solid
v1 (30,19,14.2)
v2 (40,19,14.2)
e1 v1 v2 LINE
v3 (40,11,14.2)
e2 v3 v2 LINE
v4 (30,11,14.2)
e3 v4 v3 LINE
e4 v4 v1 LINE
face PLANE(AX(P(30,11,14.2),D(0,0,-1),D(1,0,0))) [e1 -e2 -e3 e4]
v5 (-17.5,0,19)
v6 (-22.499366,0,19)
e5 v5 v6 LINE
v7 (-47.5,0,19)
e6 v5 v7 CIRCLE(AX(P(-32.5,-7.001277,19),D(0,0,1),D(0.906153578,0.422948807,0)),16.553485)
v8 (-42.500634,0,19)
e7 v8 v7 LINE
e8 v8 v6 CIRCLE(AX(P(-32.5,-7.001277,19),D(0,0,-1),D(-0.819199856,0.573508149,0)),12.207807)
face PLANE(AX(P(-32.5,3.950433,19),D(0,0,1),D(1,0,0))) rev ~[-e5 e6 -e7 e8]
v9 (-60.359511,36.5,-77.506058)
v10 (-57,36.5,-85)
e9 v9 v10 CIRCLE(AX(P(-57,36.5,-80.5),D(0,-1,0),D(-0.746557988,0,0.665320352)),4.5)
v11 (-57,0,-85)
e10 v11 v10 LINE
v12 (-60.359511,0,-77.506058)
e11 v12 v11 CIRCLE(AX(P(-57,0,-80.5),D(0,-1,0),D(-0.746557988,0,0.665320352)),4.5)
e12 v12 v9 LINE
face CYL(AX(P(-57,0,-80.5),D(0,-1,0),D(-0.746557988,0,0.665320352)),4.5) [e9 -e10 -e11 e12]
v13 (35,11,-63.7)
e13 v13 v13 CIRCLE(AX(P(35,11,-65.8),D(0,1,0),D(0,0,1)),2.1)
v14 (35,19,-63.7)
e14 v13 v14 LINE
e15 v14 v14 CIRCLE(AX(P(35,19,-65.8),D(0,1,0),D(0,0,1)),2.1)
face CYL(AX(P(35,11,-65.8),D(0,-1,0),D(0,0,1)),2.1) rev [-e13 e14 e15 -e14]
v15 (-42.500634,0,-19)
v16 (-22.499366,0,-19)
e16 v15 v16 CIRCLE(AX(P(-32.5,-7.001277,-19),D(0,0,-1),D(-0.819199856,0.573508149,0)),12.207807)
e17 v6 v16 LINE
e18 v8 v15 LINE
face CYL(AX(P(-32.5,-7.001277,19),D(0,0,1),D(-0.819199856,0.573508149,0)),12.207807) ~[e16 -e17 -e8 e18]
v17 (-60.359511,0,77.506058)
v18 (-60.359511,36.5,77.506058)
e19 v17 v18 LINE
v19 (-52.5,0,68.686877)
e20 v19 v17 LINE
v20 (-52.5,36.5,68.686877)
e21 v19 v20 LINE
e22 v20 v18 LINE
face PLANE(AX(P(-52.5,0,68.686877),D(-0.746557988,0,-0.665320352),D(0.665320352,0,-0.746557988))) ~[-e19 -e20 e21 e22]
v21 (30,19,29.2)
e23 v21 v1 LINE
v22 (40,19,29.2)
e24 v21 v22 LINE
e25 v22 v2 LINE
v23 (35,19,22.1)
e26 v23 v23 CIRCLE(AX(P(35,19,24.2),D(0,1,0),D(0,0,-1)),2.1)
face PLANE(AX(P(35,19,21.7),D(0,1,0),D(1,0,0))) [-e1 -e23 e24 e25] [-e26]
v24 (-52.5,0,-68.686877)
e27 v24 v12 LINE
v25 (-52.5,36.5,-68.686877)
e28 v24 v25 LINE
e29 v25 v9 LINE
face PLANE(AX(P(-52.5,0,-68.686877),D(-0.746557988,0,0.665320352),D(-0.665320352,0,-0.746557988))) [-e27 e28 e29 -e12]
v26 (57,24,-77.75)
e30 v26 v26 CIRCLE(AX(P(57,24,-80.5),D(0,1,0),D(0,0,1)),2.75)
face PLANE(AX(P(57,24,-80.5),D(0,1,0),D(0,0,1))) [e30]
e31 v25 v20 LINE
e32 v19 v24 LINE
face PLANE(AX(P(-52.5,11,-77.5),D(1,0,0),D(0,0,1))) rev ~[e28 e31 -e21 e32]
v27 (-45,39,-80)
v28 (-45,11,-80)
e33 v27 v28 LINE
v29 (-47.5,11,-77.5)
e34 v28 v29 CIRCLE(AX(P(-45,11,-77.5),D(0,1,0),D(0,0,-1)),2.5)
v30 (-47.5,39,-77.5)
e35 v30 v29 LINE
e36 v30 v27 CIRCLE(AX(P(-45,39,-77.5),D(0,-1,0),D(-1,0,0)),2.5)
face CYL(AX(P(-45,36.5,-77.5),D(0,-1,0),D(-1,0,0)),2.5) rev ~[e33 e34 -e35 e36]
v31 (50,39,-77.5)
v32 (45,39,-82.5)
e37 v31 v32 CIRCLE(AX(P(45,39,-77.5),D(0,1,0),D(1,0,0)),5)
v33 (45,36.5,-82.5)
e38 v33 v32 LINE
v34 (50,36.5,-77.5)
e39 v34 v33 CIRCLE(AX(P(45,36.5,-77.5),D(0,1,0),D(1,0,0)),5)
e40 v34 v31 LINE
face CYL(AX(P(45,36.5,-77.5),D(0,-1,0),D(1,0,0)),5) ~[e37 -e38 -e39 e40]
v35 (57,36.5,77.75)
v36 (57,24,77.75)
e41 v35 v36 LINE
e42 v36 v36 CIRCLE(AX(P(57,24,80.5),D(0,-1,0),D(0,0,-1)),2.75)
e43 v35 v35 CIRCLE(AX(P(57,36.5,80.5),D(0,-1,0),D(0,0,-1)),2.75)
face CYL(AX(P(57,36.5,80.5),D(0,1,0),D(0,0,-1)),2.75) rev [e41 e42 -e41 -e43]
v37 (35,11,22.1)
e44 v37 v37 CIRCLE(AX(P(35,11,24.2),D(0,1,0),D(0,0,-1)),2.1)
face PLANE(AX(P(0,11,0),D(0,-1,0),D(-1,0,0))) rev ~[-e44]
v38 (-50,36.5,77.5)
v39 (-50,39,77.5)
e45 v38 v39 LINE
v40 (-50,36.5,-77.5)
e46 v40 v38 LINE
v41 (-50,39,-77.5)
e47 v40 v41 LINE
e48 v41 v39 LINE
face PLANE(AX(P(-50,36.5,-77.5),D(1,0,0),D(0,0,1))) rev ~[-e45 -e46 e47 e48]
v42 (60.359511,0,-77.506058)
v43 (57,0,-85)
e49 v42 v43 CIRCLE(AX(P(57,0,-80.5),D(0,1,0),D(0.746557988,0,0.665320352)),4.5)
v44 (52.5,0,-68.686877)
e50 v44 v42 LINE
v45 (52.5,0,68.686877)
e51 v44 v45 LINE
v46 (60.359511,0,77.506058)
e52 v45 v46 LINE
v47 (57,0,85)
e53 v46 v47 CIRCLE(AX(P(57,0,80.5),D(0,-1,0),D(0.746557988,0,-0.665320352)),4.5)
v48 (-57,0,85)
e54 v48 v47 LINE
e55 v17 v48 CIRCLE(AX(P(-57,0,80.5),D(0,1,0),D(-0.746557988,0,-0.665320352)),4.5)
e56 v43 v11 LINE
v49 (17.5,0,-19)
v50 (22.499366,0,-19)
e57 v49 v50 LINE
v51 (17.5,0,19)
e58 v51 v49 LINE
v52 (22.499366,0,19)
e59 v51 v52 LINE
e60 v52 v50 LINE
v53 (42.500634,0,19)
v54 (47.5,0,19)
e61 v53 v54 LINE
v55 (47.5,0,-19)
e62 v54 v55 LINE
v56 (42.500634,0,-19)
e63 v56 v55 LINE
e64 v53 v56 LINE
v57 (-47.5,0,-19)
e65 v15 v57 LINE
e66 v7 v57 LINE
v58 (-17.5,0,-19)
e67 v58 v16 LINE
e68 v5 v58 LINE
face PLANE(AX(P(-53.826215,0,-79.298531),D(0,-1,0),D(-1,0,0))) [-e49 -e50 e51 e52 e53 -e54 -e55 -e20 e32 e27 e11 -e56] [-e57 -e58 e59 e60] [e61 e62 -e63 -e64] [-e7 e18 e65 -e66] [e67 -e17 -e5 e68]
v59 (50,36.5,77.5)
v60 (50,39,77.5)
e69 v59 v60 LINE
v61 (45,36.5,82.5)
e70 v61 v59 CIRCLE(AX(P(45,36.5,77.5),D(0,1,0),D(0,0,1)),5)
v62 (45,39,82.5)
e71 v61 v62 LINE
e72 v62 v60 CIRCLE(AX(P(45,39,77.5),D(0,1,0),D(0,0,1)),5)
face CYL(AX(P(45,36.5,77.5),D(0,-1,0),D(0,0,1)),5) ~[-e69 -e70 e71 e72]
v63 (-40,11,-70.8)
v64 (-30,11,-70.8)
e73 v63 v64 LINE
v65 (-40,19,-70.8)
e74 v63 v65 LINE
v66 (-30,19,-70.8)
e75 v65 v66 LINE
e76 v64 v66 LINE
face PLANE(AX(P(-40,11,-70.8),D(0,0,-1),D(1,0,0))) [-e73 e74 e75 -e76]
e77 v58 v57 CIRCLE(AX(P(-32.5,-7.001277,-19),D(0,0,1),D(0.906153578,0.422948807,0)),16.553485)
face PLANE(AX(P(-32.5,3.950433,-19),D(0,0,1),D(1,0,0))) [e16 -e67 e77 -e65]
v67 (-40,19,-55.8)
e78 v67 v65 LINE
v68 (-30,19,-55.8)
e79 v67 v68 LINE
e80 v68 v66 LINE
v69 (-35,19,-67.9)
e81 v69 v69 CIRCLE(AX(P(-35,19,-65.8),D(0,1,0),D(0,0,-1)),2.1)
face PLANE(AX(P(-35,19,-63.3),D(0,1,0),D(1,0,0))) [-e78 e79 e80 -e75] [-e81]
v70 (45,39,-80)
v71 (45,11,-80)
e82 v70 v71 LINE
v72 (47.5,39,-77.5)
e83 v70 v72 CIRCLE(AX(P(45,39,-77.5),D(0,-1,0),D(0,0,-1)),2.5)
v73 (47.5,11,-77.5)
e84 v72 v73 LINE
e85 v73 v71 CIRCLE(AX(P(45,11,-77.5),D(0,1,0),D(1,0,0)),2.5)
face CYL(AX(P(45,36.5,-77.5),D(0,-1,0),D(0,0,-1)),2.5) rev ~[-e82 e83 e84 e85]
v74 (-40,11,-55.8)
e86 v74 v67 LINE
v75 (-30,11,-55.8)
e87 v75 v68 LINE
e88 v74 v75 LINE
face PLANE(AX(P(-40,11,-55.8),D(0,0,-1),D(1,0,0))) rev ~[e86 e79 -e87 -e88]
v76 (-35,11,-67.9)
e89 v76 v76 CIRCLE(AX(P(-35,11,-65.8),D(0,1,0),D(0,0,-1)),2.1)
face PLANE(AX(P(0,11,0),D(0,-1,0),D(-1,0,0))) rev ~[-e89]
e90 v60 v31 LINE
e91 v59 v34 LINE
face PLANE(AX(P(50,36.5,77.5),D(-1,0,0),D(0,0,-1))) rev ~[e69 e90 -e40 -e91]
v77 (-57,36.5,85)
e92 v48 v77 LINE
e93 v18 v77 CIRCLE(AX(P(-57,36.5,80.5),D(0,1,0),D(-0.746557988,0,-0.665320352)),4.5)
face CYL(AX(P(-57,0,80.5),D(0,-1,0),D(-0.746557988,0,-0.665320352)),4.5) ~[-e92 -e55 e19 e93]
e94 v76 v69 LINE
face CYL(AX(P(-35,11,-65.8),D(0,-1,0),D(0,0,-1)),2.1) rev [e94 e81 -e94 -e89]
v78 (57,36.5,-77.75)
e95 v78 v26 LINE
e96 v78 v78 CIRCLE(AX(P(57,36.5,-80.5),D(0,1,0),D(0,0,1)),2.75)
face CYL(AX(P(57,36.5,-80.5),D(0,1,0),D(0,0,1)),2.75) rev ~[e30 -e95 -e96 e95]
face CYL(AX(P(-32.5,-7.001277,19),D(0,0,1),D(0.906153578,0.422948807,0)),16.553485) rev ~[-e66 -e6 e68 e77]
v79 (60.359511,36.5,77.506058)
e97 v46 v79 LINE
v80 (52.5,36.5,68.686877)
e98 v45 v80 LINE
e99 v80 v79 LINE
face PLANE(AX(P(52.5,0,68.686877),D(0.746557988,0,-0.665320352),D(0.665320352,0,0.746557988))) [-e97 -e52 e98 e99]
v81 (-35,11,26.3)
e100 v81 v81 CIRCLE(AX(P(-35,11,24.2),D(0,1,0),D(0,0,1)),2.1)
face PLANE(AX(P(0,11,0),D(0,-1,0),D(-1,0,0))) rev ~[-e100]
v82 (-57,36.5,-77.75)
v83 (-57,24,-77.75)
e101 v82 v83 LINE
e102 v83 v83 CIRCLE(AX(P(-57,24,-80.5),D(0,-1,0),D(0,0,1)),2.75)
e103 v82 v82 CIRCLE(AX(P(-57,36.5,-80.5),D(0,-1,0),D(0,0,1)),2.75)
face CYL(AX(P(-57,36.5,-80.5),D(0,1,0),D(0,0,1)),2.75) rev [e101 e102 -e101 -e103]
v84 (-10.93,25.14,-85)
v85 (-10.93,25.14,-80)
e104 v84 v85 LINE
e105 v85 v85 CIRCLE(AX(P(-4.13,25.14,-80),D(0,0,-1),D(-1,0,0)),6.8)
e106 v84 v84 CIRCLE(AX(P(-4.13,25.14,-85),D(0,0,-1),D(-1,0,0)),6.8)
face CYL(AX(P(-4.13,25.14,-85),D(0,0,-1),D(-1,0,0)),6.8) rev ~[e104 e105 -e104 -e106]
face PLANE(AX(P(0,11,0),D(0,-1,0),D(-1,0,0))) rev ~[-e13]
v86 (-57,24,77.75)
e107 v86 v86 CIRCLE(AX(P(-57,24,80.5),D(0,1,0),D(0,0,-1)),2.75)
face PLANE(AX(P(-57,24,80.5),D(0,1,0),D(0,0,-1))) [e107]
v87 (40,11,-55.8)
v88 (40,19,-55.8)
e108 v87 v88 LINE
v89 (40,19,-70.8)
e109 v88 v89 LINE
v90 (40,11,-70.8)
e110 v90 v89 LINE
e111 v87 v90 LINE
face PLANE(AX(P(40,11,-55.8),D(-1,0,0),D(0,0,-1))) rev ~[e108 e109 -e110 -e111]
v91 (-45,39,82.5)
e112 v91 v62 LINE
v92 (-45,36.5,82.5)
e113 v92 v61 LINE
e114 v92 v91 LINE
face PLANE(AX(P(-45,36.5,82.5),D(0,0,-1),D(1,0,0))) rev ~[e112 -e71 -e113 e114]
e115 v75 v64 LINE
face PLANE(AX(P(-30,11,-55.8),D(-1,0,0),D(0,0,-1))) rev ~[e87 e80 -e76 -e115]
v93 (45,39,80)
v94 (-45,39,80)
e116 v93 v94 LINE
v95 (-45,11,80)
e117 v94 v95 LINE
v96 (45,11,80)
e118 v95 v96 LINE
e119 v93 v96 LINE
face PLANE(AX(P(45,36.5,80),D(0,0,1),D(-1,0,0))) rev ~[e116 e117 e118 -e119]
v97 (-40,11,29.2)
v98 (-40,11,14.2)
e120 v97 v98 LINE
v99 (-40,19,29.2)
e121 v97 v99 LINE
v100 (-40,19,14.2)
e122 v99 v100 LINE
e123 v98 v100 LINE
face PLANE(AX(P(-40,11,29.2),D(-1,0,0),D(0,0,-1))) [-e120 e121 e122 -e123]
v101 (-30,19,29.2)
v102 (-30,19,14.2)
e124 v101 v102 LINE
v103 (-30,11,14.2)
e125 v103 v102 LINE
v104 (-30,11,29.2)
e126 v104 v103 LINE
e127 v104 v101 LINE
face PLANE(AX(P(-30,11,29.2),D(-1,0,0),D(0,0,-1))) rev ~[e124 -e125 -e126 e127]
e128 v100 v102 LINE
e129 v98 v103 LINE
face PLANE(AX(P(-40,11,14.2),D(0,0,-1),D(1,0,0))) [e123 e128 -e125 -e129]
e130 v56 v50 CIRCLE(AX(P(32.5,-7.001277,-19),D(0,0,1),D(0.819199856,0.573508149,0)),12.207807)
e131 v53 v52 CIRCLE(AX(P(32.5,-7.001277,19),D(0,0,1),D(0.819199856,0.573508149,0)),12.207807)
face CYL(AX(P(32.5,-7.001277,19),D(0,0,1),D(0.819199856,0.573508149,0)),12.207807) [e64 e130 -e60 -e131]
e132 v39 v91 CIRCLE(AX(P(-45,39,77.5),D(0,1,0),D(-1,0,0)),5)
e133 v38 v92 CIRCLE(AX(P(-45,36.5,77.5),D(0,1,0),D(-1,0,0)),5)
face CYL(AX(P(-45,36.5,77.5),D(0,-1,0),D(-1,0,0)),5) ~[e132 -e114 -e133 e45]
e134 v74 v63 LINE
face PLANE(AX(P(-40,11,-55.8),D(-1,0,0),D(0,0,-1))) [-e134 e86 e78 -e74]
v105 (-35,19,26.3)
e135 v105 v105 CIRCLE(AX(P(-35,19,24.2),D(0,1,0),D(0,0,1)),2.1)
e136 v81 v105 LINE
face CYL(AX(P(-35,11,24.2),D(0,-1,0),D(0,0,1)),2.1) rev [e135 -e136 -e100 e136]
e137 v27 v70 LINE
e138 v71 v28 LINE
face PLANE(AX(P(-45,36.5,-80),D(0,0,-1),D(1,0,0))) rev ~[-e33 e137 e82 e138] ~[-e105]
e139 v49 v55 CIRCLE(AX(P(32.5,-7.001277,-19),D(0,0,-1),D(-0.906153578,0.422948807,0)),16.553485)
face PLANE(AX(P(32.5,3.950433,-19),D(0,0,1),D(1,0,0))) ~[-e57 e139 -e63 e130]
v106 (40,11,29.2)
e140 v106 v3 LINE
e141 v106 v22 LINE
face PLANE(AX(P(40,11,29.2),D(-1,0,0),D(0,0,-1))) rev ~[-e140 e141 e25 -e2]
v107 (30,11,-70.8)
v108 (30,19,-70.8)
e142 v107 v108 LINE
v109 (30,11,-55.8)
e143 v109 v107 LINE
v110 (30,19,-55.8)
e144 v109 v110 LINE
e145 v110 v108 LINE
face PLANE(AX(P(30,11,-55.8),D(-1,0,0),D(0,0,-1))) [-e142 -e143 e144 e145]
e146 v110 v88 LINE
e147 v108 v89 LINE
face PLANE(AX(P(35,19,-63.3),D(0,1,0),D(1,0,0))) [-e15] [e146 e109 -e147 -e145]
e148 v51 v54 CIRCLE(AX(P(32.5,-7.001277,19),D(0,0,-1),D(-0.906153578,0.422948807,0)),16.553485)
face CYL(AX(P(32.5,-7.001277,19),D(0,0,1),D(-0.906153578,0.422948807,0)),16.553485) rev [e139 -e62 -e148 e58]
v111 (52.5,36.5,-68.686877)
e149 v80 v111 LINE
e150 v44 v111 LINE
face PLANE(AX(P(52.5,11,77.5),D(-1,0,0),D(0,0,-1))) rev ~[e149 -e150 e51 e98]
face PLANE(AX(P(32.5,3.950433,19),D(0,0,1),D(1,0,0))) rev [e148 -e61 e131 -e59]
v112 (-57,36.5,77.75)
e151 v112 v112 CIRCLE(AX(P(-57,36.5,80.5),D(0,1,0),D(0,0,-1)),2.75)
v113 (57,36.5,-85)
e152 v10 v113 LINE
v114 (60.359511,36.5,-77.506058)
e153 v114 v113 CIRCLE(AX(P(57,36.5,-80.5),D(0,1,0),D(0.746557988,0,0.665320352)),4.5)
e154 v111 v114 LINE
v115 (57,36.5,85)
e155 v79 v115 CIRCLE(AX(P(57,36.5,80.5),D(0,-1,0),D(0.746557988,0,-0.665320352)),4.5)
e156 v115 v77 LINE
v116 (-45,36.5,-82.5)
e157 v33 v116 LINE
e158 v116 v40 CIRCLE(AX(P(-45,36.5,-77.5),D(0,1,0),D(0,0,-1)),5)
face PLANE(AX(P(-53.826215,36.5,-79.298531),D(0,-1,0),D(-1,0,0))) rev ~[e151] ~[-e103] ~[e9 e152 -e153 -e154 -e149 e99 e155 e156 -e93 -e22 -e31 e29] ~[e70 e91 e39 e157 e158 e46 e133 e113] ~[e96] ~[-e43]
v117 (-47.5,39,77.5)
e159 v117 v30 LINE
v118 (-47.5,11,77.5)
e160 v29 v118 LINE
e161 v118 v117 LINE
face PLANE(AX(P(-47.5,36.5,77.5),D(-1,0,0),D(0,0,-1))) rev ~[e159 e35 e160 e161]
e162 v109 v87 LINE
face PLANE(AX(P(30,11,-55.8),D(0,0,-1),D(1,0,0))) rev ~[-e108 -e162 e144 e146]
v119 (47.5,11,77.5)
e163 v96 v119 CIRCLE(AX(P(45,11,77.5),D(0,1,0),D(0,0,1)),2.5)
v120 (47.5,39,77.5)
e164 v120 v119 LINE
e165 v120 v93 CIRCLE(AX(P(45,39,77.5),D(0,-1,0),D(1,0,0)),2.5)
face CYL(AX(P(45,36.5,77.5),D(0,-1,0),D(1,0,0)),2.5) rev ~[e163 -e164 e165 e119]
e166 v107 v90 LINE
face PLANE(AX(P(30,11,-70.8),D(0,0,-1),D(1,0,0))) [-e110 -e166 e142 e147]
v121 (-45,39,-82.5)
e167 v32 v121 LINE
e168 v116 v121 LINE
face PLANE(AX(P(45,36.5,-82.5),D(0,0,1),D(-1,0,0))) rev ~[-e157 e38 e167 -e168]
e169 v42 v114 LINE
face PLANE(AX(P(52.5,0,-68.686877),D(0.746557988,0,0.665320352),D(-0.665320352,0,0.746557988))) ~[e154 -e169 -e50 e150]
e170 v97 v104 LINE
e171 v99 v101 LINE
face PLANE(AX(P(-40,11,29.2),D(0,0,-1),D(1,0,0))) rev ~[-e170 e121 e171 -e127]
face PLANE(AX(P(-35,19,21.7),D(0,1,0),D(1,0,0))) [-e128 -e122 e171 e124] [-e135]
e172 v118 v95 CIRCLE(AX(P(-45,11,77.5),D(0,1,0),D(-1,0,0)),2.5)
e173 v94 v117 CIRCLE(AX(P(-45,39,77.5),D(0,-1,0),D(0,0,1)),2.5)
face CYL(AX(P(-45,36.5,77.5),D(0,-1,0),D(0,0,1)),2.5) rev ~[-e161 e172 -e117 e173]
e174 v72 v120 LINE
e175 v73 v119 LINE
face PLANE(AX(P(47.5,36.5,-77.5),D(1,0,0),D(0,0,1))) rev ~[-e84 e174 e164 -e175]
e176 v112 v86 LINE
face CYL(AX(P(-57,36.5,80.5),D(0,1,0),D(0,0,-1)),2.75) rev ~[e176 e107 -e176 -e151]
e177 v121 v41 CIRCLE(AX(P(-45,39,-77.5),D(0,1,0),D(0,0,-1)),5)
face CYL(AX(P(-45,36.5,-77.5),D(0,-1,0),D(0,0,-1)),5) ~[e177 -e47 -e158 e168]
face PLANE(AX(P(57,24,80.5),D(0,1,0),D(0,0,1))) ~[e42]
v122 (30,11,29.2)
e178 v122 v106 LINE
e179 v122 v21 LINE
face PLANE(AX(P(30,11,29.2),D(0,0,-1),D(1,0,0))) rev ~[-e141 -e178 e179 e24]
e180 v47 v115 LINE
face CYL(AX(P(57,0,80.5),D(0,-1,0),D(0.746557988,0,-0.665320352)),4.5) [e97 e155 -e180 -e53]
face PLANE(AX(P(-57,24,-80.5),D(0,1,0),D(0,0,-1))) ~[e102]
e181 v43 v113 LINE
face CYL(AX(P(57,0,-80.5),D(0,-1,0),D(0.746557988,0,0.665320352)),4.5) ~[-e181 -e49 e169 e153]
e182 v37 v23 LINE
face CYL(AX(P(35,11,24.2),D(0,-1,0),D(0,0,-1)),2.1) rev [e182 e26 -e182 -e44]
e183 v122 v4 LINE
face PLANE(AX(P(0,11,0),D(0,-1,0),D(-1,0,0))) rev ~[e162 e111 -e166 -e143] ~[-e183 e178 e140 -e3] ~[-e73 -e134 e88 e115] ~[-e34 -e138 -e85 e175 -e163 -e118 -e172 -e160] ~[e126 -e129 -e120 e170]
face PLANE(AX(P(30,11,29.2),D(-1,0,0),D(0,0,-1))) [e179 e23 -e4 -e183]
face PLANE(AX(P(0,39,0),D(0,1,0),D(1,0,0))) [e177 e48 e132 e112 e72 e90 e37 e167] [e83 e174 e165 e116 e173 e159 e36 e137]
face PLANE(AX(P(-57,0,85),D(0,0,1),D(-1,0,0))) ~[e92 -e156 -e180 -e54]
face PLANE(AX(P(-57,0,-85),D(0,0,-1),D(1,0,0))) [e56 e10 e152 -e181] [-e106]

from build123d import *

# Parameters (mm, degrees)
SALIENTE_EXTRUIR2_DEPTH   = 11
SALIENTE_EXTRUIR3_DEPTH   = 25.5
SALIENTE_EXTRUIR4_DEPTH   = 2.5
SALIENTE_EXTRUIR5_DEPTH   = 36.5
SIMETR_A2_COPY_1_DEPTH    = 36.5
CROQUIS6_W                = 10
CROQUIS6_H                = 15
CROQUIS6_R                = 2.1
SALIENTE_EXTRUIR6_DEPTH   = 8
CROQUIS8_R                = 6.8
CORTAR_EXTRUIR2_DEPTH     = 8
CROQUIS9_R                = 6.5
CORTAR_EXTRUIR3_DEPTH     = 8
CORTAR_EXTRUIR4_DEPTH     = 38
CROQUIS13_R               = 2.75
CORTAR_EXTRUIR5_DEPTH     = 12.5
SIMETR_A7_COPY_1_SKETCH_R = 2.75
SIMETR_A7_COPY_1_DEPTH    = 12.5
CORTAR_EXTRUIR6_START     = -2.5
CROQUIS15_R               = 12.5
CROQUIS15_R_2             = 6.5
CORTAR_EXTRUIR6_DEPTH     = 2.5
CROQUIS16_R               = 13.413268366
SALIENTE_EXTRUIR7_DEPTH   = 5


with BuildPart() as part:
    # Croquis1 → Saliente-Extruir2 (new body)
    # profile 1 of 3: a face of its own
    with BuildSketch(Plane(origin=(0, 0, 0), x_dir=(1, 0, 0), z_dir=(0, 1, 0))):
        with BuildLine():
            Line((-45, 85), (45, 85))
            ThreePointArc((45, 85), (50.303300859, 82.803300859), (52.5, 77.5))
            Line((52.5, 77.5), (52.5, -77.5))
            ThreePointArc((52.5, -77.5), (50.303300859, -82.803300859), (45, -85))
            Line((45, -85), (-45, -85))
            ThreePointArc((-45, -85), (-50.303300859, -82.803300859), (-52.5, -77.5))
            Line((-52.5, -77.5), (-52.5, 77.5))
            ThreePointArc((-52.5, 77.5), (-50.303300859, 82.803300859), (-45, 85))
        make_face()
        with BuildLine():
            ThreePointArc((-45, 82.5), (-48.535533906, 81.035533906), (-50, 77.5))
            Line((-50, 77.5), (-50, -77.5))
            ThreePointArc((-50, -77.5), (-48.535533906, -81.035533906), (-45, -82.5))
            Line((-45, -82.5), (45, -82.5))
            ThreePointArc((45, -82.5), (48.535533906, -81.035533906), (50, -77.5))
            Line((50, -77.5), (50, 77.5))
            ThreePointArc((50, 77.5), (48.535533906, 81.035533906), (45, 82.5))
            Line((45, 82.5), (-45, 82.5))
        make_face(mode=Mode.SUBTRACT)
    # profile 2 of 3: a face of its own
    with BuildSketch(Plane(origin=(0, 0, 0), x_dir=(1, 0, 0), z_dir=(0, 1, 0))):
        with BuildLine():
            Line((-45, 82.5), (45, 82.5))
            ThreePointArc((45, 82.5), (48.535533906, 81.035533906), (50, 77.5))
            Line((50, 77.5), (50, -77.5))
            ThreePointArc((50, -77.5), (48.535533906, -81.035533906), (45, -82.5))
            Line((45, -82.5), (-45, -82.5))
            ThreePointArc((-45, -82.5), (-48.535533906, -81.035533906), (-50, -77.5))
            Line((-50, -77.5), (-50, 77.5))
            ThreePointArc((-50, 77.5), (-48.535533906, 81.035533906), (-45, 82.5))
        make_face()
        with BuildLine():
            ThreePointArc((45, -80), (46.767766953, -79.267766953), (47.5, -77.5))
            Line((47.5, -77.5), (47.5, 77.5))
            ThreePointArc((47.5, 77.5), (46.767766953, 79.267766953), (45, 80))
            Line((45, 80), (-45, 80))
            ThreePointArc((-45, 80), (-46.767766953, 79.267766953), (-47.5, 77.5))
            Line((-47.5, 77.5), (-47.5, -77.5))
            ThreePointArc((-47.5, -77.5), (-46.767766953, -79.267766953), (-45, -80))
            Line((-45, -80), (45, -80))
        make_face(mode=Mode.SUBTRACT)
    # profile 3 of 3: a face of its own
    with BuildSketch(Plane(origin=(0, 0, 0), x_dir=(1, 0, 0), z_dir=(0, 1, 0))):
        with BuildLine():
            Line((-45, -80), (45, -80))
            ThreePointArc((45, -80), (46.767766953, -79.267766953), (47.5, -77.5))
            Line((47.5, -77.5), (47.5, 77.5))
            ThreePointArc((47.5, 77.5), (46.767766953, 79.267766953), (45, 80))
            Line((45, 80), (-45, 80))
            ThreePointArc((-45, 80), (-46.767766953, 79.267766953), (-47.5, 77.5))
            Line((-47.5, 77.5), (-47.5, -77.5))
            ThreePointArc((-47.5, -77.5), (-46.767766953, -79.267766953), (-45, -80))
        make_face()
    extrude(amount=SALIENTE_EXTRUIR2_DEPTH)

    # Croquis2 → Saliente-Extruir3 (add)
    # profile 1 of 2: a face of its own
    with BuildSketch(Plane(origin=(0, 11, 0), x_dir=(1, 0, 0), z_dir=(0, 1, 0))):
        with BuildLine():
            ThreePointArc((52.5, 77.5), (50.303300859, 82.803300859), (45, 85))
            Line((45, 85), (-45, 85))
            ThreePointArc((-45, 85), (-50.303300859, 82.803300859), (-52.5, 77.5))
            Line((-52.5, 77.5), (-52.5, -77.5))
            ThreePointArc((-52.5, -77.5), (-50.303300859, -82.803300859), (-45, -85))
            Line((-45, -85), (45, -85))
            ThreePointArc((45, -85), (50.303300859, -82.803300859), (52.5, -77.5))
            Line((52.5, -77.5), (52.5, 77.5))
        make_face()
        with BuildLine():
            ThreePointArc((-45, 82.5), (-48.535533906, 81.035533906), (-50, 77.5))
            Line((-50, 77.5), (-50, -77.5))
            ThreePointArc((-50, -77.5), (-48.535533906, -81.035533906), (-45, -82.5))
            Line((-45, -82.5), (45, -82.5))
            ThreePointArc((45, -82.5), (48.535533906, -81.035533906), (50, -77.5))
            Line((50, -77.5), (50, 77.5))
            ThreePointArc((50, 77.5), (48.535533906, 81.035533906), (45, 82.5))
            Line((45, 82.5), (-45, 82.5))
        make_face(mode=Mode.SUBTRACT)
    # profile 2 of 2: a face of its own
    with BuildSketch(Plane(origin=(0, 11, 0), x_dir=(1, 0, 0), z_dir=(0, 1, 0))):
        with BuildLine():
            Line((45, 82.5), (-45, 82.5))
            ThreePointArc((-45, 82.5), (-48.535533906, 81.035533906), (-50, 77.5))
            Line((-50, 77.5), (-50, -77.5))
            ThreePointArc((-50, -77.5), (-48.535533906, -81.035533906), (-45, -82.5))
            Line((-45, -82.5), (45, -82.5))
            ThreePointArc((45, -82.5), (48.535533906, -81.035533906), (50, -77.5))
            Line((50, -77.5), (50, 77.5))
            ThreePointArc((50, 77.5), (48.535533906, 81.035533906), (45, 82.5))
        make_face()
        with BuildLine():
            ThreePointArc((-45, 80), (-46.767766953, 79.267766953), (-47.5, 77.5))
            Line((-47.5, 77.5), (-47.5, -77.5))
            ThreePointArc((-47.5, -77.5), (-46.767766953, -79.267766953), (-45, -80))
            Line((-45, -80), (45, -80))
            ThreePointArc((45, -80), (46.767766953, -79.267766953), (47.5, -77.5))
            Line((47.5, -77.5), (47.5, 77.5))
            ThreePointArc((47.5, 77.5), (46.767766953, 79.267766953), (45, 80))
            Line((45, 80), (-45, 80))
        make_face(mode=Mode.SUBTRACT)
    extrude(amount=SALIENTE_EXTRUIR3_DEPTH)

    # Croquis3 → Saliente-Extruir4 (add)
    with BuildSketch(Plane(origin=(0, 36.5, 0), x_dir=(1, 0, 0), z_dir=(0, 1, 0))):
        with BuildLine():
            Line((45, 82.5), (-45, 82.5))
            ThreePointArc((-45, 82.5), (-48.535533906, 81.035533906), (-50, 77.5))
            Line((-50, 77.5), (-50, -77.5))
            ThreePointArc((-50, -77.5), (-48.535533906, -81.035533906), (-45, -82.5))
            Line((-45, -82.5), (45, -82.5))
            ThreePointArc((45, -82.5), (48.535533906, -81.035533906), (50, -77.5))
            Line((50, -77.5), (50, 77.5))
            ThreePointArc((50, 77.5), (48.535533906, 81.035533906), (45, 82.5))
        make_face()
        with BuildLine():
            Line((-47.5, -77.5), (-47.5, 77.5))
            ThreePointArc((-47.5, 77.5), (-46.767766953, 79.267766953), (-45, 80))
            Line((-45, 80), (45, 80))
            ThreePointArc((45, 80), (46.767766953, 79.267766953), (47.5, 77.5))
            Line((47.5, 77.5), (47.5, -77.5))
            ThreePointArc((47.5, -77.5), (46.767766953, -79.267766953), (45, -80))
            Line((45, -80), (-45, -80))
            ThreePointArc((-45, -80), (-46.767766953, -79.267766953), (-47.5, -77.5))
        make_face(mode=Mode.SUBTRACT)
    extrude(amount=SALIENTE_EXTRUIR4_DEPTH)

    # Croquis4 → Saliente-Extruir5 (add)
    with BuildSketch(Plane.XZ):
        with BuildLine():
            Line((57, 85), (45, 85))
            ThreePointArc((45, 85), (50.303300859, 82.803300859), (52.5, 77.5))
            Line((52.5, 77.5), (52.5, 68.686877301))
            Line((52.5, 68.686877301), (60.359510947, 77.506058418))
            ThreePointArc((60.359510947, 77.506058418), (61.10625968, 82.340823577), (57, 85))
        make_face()
    saliente_extruir5 = extrude(amount=-SALIENTE_EXTRUIR5_DEPTH)

    # Simetría1: Saliente-Extruir5 across plane
    add(saliente_extruir5.mirror(Plane(origin=(0, 0, 0), x_dir=(0, 0, 1), z_dir=(1, 0, 0))))

    # Simetría2: Saliente-Extruir5 across plane
    add(saliente_extruir5.mirror(Plane.XY))

    # Simetría2 copy 1 sketch → Simetría2 copy 1 (add)
    with BuildSketch(Plane(origin=(0, 0, 0), x_dir=(-1, 0, 0), z_dir=(0, -1, 0))):
        with BuildLine():
            Line((57, 85), (45, 85))
            ThreePointArc((45, 85), (50.303300859, 82.803300859), (52.5, 77.5))
            Line((52.5, 77.5), (52.5, 68.686877301))
            Line((52.5, 68.686877301), (60.359510947, 77.506058418))
            ThreePointArc((60.359510947, 77.506058418), (61.10625968, 82.340823577), (57, 85))
        make_face()
    extrude(amount=-SIMETR_A2_COPY_1_DEPTH)

    # Croquis6 → Saliente-Extruir6 (add)
    # profile 1 of 4: a face of its own
    with BuildSketch(Plane(origin=(0, 11, 0), x_dir=(1, 0, 0), z_dir=(0, 1, 0))):
        with Locations((-35, 63.3)):
            Rectangle(CROQUIS6_W, CROQUIS6_H)
        with Locations(Location((-35, 65.8, 0), (0, 0, 90))):
            Circle(CROQUIS6_R, mode=Mode.SUBTRACT)
    # profile 2 of 4: a face of its own
    with BuildSketch(Plane(origin=(0, 11, 0), x_dir=(1, 0, 0), z_dir=(0, 1, 0))):
        with Locations((-35, -21.7)):
            Rectangle(CROQUIS6_W, CROQUIS6_H)
        with Locations(Location((-35, -24.2, 0), (0, 0, 270))):
            Circle(CROQUIS6_R, mode=Mode.SUBTRACT)
    # profile 3 of 4: a face of its own
    with BuildSketch(Plane(origin=(0, 11, 0), x_dir=(1, 0, 0), z_dir=(0, 1, 0))):
        with Locations((35, -21.7)):
            Rectangle(CROQUIS6_W, CROQUIS6_H)
        with Locations(Location((35, -24.2, 0), (0, 0, 90))):
            Circle(CROQUIS6_R, mode=Mode.SUBTRACT)
    # profile 4 of 4: a face of its own
    with BuildSketch(Plane(origin=(0, 11, 0), x_dir=(1, 0, 0), z_dir=(0, 1, 0))):
        with Locations((35, 63.3)):
            Rectangle(CROQUIS6_W, CROQUIS6_H)
        with Locations(Location((35, 65.8, 0), (0, 0, 270))):
            Circle(CROQUIS6_R, mode=Mode.SUBTRACT)
    extrude(amount=SALIENTE_EXTRUIR6_DEPTH)

    # Croquis8 → Cortar-Extruir2 (cut)
    with BuildSketch(Plane(origin=(0, 0, -85), x_dir=(-1, 0, 0), z_dir=(0, 0, -1))):
        with Locations((4.13, 25.14)):
            Circle(CROQUIS8_R)
    extrude(amount=-CORTAR_EXTRUIR2_DEPTH, mode=Mode.SUBTRACT)

    # Croquis9 → Cortar-Extruir3 (cut)
    with BuildSketch(Plane.ZY.offset(-47.5)):
        with Locations((0, 22)):
            Circle(CROQUIS9_R)
    extrude(amount=-CORTAR_EXTRUIR3_DEPTH, mode=Mode.SUBTRACT)

    # Croquis12 → Cortar-Extruir4 (cut)
    with BuildSketch(Plane.XY.offset(19)):
        with BuildLine():
            ThreePointArc((-17.5, 0), (-32.5, 9.552208488), (-47.5, 0))
            Line((-47.5, 0), (-42.537800124, 0))
            Line((-42.537800124, 0), (-42.500633869, 0))
            ThreePointArc((-42.500633869, 0), (-32.5, 5.20653028), (-22.499366131, 0))
            Line((-22.499366131, 0), (-17.5, 0))
        make_face()
        with BuildLine():
            Line((-42.537800124, 0), (-47.5, 0))
            ThreePointArc((-47.5, 0), (-36.085777282, -23.16172488), (-15.946514625, -7.001276887))
            ThreePointArc((-15.946514625, -7.001276887), (-16.339552007, -3.415499605), (-17.5, 0))
            Line((-17.5, 0), (-22.499366131, 0))
            ThreePointArc((-22.499366131, 0), (-20.857054375, -3.330803756), (-20.292192833, -7.001276887))
            ThreePointArc((-20.292192833, -7.001276887), (-36.170473131, -18.644222512), (-42.500633869, 0))
            Line((-42.500633869, 0), (-42.537800124, 0))
        make_face()
    cortar_extruir4 = extrude(amount=-CORTAR_EXTRUIR4_DEPTH, mode=Mode.SUBTRACT)

    # Simetría5: Cortar-Extruir4 across plane
    add(cortar_extruir4.mirror(Plane(origin=(0, 0, 0), x_dir=(0, 0, 1), z_dir=(1, 0, 0))), mode=Mode.SUBTRACT)

    # Croquis13 → Cortar-Extruir5 (cut)
    with BuildSketch(Plane(origin=(0, 36.5, 0), x_dir=(1, 0, 0), z_dir=(0, 1, 0))):
        with Locations(Location((57, 80.5, 0), (0, 0, 270))):
            Circle(CROQUIS13_R)
    cortar_extruir5 = extrude(amount=-CORTAR_EXTRUIR5_DEPTH, mode=Mode.SUBTRACT)

    # Simetría6: Cortar-Extruir5 across plane
    add(cortar_extruir5.mirror(Plane.XY), mode=Mode.SUBTRACT)

    # Simetría7: Cortar-Extruir5 across plane
    add(cortar_extruir5.mirror(Plane(origin=(0, 0, 0), x_dir=(0, 0, 1), z_dir=(1, 0, 0))), mode=Mode.SUBTRACT)

    # Simetría7 copy 1 sketch → Simetría7 copy 1 (cut)
    with BuildSketch(Plane(origin=(0, 36.5, 0), x_dir=(-1, 0, 0), z_dir=(0, 1, 0))):
        with Locations(Location((57, 80.5, 0), (0, 0, 270))):
            Circle(SIMETR_A7_COPY_1_SKETCH_R)
    extrude(amount=-SIMETR_A7_COPY_1_DEPTH, mode=Mode.SUBTRACT)

    # Croquis15 → Cortar-Extruir6 (cut)
    with BuildSketch(Plane(origin=(52.5, 0, 0), x_dir=(0, 0, -1), z_dir=(1, 0, 0)).offset(CORTAR_EXTRUIR6_START)):
        with Locations((0, 22)):
            Circle(CROQUIS15_R)
        with Locations(Location((0, 22, 0), (0, 0, 180))):
            Circle(CROQUIS15_R_2, mode=Mode.SUBTRACT)
    extrude(amount=CORTAR_EXTRUIR6_DEPTH, mode=Mode.SUBTRACT)

    # Croquis16 → Saliente-Extruir7 (add)
    with BuildSketch(Plane(origin=(52.5, 0, 0), x_dir=(0, 0, -1), z_dir=(1, 0, 0))):
        with Locations((0, 22)):
            Circle(CROQUIS16_R)
    extrude(amount=-SALIENTE_EXTRUIR7_DEPTH)


solid = part.part
